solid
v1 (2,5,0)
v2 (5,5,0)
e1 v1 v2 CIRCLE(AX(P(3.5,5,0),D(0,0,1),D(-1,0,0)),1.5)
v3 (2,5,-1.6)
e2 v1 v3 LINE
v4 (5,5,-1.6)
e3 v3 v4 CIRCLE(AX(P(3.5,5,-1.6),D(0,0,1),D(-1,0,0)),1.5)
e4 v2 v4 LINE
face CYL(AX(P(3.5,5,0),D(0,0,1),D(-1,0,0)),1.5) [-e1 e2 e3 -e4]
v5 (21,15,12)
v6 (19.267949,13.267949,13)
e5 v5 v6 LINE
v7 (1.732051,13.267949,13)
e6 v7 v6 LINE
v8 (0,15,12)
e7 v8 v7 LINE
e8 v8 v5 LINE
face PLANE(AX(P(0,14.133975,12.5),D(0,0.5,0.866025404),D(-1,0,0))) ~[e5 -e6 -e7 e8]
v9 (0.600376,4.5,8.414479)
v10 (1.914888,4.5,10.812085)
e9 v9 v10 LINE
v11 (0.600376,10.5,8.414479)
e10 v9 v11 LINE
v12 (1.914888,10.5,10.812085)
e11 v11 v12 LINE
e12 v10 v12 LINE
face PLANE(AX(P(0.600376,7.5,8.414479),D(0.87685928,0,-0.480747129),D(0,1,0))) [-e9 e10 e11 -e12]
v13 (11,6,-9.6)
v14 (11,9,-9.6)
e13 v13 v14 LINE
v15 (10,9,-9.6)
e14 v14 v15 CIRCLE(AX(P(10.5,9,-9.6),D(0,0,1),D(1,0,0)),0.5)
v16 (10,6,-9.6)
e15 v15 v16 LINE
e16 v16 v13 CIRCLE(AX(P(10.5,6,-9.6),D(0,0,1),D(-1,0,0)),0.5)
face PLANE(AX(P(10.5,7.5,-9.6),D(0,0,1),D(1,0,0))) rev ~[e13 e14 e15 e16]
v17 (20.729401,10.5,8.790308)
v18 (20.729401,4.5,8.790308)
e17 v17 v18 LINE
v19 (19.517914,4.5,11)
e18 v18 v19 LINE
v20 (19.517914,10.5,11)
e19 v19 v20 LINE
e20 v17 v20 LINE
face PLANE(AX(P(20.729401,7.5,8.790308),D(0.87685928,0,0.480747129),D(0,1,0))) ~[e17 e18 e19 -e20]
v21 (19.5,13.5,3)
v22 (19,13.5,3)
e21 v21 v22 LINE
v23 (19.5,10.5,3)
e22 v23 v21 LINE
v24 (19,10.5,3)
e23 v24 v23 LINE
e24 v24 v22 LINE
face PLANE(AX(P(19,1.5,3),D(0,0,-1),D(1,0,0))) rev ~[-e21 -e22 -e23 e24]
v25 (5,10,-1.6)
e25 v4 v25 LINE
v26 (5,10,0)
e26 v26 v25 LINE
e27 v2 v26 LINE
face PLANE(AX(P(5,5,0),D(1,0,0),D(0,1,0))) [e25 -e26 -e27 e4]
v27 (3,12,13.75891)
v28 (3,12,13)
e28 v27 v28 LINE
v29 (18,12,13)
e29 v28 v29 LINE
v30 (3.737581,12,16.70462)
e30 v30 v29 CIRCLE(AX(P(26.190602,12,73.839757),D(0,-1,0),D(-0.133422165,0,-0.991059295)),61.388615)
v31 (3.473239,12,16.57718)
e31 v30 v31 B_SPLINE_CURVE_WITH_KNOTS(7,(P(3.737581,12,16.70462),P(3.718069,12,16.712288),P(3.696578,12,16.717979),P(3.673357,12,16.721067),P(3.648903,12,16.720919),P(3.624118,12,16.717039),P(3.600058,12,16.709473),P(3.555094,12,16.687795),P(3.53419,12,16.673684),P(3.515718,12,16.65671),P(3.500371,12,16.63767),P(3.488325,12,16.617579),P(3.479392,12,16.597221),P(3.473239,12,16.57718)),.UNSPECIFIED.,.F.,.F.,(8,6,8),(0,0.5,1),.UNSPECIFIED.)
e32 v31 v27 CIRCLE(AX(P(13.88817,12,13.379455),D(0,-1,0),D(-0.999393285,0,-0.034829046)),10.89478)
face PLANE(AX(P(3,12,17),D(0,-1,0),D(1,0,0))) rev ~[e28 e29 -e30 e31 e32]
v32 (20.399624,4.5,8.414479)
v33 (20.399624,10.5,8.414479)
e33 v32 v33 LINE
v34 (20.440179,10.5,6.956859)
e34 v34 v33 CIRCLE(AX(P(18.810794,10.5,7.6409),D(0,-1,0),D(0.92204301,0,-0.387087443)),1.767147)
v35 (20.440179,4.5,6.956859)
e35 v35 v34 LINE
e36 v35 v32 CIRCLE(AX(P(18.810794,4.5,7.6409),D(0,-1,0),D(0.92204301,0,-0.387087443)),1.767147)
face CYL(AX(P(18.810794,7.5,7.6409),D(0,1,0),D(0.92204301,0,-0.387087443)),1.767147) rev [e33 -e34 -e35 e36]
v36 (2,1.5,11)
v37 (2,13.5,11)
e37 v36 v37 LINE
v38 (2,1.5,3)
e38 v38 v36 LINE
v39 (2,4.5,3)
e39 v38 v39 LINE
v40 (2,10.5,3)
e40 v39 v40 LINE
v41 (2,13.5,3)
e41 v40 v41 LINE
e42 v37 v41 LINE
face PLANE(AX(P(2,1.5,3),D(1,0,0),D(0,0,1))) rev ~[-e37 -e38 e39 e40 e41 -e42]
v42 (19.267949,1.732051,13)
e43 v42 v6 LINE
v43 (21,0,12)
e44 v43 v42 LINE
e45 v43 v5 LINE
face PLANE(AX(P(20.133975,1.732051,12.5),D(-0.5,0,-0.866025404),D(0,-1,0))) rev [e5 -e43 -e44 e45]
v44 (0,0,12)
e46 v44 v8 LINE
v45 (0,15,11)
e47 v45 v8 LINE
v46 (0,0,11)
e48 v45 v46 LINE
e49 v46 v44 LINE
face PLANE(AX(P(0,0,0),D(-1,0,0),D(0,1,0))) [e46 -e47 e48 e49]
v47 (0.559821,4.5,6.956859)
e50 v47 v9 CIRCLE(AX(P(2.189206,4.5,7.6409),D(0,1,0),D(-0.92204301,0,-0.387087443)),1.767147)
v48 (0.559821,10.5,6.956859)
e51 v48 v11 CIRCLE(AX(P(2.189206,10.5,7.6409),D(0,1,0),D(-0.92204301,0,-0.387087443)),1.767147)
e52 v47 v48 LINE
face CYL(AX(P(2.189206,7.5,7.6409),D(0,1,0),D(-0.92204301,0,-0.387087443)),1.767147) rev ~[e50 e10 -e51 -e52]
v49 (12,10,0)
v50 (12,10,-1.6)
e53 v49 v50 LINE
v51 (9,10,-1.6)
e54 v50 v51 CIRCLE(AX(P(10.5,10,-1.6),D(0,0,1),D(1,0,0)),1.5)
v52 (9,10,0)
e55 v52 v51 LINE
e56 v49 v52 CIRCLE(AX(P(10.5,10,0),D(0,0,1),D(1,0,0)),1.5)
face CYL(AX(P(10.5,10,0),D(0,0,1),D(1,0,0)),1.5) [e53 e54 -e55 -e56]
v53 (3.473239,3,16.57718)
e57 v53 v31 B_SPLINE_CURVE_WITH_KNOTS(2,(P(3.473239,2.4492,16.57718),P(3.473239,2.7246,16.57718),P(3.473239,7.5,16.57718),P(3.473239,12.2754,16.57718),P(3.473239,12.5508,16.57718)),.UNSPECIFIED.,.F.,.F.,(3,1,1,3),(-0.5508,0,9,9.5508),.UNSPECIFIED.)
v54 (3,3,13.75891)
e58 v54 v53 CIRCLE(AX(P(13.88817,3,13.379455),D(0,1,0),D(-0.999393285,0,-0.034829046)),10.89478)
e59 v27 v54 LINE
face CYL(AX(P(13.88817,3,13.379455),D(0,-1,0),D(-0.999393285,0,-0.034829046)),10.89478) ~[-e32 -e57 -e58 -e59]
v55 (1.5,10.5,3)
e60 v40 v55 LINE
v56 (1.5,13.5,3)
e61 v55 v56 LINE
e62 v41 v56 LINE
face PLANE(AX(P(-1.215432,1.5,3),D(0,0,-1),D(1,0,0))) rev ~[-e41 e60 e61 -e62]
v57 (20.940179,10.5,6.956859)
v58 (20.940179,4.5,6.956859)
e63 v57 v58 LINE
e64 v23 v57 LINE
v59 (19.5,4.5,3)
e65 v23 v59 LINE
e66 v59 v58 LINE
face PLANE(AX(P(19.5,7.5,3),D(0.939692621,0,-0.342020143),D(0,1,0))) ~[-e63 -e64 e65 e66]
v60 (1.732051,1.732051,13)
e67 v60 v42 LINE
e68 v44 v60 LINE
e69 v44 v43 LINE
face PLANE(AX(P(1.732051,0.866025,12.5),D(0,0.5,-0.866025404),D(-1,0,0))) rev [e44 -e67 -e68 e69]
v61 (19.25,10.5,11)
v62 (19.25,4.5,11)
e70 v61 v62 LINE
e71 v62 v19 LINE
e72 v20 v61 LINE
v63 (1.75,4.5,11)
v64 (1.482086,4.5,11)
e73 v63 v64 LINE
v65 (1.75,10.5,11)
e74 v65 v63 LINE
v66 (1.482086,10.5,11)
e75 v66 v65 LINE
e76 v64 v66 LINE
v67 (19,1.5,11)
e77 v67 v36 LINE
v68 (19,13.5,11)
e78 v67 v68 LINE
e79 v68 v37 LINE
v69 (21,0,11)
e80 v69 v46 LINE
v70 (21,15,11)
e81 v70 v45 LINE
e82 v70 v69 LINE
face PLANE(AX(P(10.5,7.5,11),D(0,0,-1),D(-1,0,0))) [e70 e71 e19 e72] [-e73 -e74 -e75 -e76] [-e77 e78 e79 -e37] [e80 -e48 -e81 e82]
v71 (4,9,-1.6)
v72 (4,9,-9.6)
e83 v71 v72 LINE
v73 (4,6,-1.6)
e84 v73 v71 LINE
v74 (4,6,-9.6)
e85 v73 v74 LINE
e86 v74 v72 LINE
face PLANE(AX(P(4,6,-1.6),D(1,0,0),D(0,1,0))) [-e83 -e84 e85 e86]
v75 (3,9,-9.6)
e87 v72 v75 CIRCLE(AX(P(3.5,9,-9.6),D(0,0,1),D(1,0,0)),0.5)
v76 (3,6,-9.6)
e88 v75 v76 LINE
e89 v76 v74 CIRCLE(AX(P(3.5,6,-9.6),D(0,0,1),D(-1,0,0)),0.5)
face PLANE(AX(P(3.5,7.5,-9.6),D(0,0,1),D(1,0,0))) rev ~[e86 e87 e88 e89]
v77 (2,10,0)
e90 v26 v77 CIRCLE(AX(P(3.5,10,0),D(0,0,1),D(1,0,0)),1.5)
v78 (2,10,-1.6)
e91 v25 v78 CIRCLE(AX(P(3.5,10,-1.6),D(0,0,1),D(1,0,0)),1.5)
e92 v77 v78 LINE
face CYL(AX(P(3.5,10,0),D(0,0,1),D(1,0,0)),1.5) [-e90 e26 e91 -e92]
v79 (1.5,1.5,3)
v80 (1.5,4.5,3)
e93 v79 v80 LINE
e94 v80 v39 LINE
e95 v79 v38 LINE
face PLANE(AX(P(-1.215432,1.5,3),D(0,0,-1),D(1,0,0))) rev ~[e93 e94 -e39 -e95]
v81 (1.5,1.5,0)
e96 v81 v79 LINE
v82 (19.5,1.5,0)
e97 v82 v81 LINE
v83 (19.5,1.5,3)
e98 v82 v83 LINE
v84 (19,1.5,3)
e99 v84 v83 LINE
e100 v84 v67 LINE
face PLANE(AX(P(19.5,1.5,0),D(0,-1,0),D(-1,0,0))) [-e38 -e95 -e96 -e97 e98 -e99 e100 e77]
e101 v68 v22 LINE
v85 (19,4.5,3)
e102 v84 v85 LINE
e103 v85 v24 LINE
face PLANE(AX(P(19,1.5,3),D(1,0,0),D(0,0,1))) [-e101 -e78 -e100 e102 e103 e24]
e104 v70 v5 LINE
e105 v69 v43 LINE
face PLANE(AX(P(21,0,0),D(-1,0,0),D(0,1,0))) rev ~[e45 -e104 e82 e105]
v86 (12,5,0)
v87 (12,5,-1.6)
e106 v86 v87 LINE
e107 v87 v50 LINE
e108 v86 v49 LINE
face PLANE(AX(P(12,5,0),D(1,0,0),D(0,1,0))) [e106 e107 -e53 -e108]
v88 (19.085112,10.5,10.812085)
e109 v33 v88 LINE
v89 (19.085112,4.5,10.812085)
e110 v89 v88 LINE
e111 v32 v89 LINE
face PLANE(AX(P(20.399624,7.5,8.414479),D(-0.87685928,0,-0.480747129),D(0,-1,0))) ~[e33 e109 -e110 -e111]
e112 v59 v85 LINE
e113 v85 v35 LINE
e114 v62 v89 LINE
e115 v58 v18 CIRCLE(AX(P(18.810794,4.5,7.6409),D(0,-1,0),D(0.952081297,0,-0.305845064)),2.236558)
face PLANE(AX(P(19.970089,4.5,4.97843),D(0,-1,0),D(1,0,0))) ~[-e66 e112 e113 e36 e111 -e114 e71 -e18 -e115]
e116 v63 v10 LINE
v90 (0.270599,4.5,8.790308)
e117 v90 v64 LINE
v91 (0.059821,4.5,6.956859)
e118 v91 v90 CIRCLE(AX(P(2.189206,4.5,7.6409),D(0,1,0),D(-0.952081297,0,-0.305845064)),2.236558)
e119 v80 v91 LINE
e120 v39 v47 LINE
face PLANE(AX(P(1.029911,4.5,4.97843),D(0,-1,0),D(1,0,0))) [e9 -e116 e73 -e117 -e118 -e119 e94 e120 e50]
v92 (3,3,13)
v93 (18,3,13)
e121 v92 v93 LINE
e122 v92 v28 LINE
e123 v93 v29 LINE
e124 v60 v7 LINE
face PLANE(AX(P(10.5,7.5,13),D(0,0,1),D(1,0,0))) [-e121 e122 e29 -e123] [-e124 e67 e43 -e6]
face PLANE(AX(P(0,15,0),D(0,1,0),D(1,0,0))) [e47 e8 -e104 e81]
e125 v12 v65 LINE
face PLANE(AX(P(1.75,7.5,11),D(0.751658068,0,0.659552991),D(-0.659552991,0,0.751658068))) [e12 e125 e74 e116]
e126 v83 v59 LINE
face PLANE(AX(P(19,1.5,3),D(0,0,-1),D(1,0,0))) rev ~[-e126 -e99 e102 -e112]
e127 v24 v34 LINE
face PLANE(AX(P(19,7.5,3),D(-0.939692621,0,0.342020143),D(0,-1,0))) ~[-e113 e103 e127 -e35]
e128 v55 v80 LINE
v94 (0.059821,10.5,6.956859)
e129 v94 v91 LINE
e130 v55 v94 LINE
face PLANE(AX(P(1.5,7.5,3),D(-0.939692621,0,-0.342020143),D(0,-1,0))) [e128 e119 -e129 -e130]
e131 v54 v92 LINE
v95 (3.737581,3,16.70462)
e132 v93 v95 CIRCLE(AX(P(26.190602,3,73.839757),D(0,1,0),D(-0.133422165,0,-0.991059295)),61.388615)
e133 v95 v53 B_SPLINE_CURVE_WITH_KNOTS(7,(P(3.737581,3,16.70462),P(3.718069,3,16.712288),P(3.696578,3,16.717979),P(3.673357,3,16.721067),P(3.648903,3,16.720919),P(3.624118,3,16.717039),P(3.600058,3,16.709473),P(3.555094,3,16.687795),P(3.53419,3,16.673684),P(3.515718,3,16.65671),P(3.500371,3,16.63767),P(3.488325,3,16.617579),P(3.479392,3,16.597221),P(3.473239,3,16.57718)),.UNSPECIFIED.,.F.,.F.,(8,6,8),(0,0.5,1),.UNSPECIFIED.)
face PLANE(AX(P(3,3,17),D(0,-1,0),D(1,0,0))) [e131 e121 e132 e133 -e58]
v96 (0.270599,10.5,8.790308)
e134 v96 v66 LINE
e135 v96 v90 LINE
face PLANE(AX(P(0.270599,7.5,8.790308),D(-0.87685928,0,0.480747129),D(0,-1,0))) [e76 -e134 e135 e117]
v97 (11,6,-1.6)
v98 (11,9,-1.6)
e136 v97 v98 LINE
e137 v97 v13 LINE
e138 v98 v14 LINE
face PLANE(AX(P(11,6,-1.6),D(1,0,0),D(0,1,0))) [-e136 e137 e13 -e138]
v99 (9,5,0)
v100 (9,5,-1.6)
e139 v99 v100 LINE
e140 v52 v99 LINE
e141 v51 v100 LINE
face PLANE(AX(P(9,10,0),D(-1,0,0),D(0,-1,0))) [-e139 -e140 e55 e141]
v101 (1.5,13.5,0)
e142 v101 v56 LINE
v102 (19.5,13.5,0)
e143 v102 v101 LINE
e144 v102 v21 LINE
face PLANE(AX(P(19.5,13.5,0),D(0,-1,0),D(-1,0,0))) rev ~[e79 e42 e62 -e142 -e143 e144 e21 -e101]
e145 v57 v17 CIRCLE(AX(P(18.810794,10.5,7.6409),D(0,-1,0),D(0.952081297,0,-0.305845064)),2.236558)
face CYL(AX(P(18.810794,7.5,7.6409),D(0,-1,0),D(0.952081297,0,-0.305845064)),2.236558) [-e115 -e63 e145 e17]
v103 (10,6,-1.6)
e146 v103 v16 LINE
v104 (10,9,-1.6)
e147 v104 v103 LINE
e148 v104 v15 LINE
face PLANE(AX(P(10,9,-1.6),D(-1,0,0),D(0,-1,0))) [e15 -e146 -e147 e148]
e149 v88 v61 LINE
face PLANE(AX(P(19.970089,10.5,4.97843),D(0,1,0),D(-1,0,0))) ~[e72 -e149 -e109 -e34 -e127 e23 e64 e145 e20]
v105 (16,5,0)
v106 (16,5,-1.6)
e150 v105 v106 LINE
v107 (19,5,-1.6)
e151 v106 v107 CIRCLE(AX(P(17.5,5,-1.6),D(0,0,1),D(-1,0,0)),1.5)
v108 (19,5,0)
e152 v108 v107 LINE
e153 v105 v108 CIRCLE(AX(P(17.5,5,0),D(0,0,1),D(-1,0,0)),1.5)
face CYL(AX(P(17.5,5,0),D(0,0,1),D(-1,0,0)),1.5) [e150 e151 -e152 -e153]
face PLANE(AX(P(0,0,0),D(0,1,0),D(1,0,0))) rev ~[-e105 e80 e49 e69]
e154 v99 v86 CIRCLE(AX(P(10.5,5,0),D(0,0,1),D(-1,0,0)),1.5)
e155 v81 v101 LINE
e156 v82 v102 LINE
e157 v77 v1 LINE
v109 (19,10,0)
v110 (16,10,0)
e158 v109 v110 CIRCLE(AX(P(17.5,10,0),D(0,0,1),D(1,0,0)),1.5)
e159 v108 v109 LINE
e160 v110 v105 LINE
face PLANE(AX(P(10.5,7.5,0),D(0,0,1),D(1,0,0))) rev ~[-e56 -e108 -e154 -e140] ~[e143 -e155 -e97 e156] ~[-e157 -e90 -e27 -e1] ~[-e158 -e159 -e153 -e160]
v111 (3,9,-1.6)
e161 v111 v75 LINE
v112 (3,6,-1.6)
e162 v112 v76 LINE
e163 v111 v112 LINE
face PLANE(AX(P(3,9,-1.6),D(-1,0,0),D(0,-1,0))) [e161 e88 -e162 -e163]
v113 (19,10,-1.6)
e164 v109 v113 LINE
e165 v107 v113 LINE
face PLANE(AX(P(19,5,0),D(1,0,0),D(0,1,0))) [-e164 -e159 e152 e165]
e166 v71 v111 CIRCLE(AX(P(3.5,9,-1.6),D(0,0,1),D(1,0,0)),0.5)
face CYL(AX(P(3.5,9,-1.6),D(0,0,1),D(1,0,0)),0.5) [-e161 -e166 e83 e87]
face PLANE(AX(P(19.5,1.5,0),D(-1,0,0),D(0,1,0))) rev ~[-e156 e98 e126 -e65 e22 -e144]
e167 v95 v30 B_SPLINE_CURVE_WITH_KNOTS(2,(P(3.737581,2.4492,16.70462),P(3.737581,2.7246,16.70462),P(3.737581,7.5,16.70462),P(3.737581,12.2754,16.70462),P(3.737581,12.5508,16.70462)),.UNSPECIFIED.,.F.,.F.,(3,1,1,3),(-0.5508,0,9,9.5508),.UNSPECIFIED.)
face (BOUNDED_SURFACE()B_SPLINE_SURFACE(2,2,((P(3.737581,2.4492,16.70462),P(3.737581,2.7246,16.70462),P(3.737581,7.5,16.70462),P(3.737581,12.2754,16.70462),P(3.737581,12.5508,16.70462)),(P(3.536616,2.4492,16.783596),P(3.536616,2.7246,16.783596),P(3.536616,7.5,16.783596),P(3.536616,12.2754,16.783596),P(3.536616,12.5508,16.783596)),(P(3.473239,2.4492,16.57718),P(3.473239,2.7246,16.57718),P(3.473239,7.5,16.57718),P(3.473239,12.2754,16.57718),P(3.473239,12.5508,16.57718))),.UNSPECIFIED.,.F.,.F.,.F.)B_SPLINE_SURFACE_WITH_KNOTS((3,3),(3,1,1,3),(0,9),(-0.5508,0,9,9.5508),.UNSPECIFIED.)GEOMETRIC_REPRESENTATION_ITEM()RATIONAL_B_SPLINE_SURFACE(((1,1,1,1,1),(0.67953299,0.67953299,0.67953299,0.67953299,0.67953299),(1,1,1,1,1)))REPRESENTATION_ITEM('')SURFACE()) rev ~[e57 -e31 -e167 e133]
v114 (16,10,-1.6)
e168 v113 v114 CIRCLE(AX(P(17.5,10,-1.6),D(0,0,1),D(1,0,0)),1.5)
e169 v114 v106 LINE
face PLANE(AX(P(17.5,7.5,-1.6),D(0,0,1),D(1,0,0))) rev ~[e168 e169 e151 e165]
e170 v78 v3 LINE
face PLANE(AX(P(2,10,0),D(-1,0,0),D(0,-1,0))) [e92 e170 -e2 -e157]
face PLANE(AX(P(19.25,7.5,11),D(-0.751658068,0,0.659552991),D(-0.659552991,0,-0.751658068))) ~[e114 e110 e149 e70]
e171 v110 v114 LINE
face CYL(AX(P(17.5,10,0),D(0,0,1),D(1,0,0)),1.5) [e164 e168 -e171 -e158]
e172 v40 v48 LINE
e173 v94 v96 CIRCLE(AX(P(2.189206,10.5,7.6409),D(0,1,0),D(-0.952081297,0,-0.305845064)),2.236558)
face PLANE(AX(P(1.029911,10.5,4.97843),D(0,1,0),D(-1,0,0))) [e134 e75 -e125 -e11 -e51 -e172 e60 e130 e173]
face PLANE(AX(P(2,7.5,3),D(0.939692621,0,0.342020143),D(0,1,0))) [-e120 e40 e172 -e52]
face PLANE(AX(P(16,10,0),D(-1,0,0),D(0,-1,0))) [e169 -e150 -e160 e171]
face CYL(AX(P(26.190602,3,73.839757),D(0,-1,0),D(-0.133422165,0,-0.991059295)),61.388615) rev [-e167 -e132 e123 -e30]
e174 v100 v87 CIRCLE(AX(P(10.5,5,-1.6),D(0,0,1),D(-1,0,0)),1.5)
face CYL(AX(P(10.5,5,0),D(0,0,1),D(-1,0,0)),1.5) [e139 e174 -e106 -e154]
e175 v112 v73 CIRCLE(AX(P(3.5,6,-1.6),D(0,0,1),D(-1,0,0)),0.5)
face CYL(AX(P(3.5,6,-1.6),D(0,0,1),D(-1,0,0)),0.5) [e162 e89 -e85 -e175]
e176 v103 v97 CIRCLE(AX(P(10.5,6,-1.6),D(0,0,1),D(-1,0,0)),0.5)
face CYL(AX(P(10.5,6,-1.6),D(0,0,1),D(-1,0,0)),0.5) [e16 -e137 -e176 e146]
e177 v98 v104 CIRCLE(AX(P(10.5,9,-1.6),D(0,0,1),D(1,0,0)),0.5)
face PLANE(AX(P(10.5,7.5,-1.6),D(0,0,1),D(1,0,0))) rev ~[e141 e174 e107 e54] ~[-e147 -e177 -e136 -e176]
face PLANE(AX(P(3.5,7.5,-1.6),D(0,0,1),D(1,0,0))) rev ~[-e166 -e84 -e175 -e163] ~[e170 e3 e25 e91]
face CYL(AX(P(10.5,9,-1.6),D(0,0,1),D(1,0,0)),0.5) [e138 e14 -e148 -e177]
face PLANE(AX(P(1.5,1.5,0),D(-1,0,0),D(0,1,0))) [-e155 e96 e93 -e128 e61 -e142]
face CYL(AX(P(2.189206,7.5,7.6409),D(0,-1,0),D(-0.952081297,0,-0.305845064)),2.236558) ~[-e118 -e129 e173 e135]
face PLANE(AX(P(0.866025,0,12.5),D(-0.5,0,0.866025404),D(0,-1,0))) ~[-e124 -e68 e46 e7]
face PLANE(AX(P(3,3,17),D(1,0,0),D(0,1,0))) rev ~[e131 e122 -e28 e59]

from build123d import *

# Parameters (mm, degrees)
SKETCH_1_W             = 21
SKETCH_1_H             = 15
EXTRUDE_1_DEPTH        = 17
SKETCH_3_OUTSIDE_W     = 29.18
SKETCH_3_OUTSIDE_H     = 23.18
SKETCH_3_OUTSIDE_W_2   = 18
SKETCH_3_OUTSIDE_H_2   = 12
CUT_EXTRUDE_1_DEPTH    = 11
SKETCH_4_OUTSIDE_W     = 29.18
SKETCH_4_OUTSIDE_H     = 23.18
SKETCH_4_OUTSIDE_W_2   = 15
SKETCH_4_OUTSIDE_H_2   = 9
CUT_EXTRUDE_2_DEPTH    = 4
CUT_EXTRUDE_3_REACH    = 14
CUT_EXTRUDE_4_REACH    = 14
FILLET_2_R             = 0.2
CHAMFER_1_SIZE         = 1
CHAMFER_1_SIZE2        = 1.732050808
CHAMFER_1_PART_2_SIZE  = 1
CHAMFER_1_PART_2_SIZE2 = 1.732050808
CHAMFER_1_PART_3_SIZE  = 1
CHAMFER_1_PART_3_SIZE2 = 1.732050808
CHAMFER_1_PART_4_SIZE  = 1
CHAMFER_1_PART_4_SIZE2 = 1.732050808
CUT_EXTRUDE_5_REACH    = 15.5
SKETCH_7_W             = 3.215432019
SKETCH_7_H             = 8
SKETCH_8_W             = 0.5
SKETCH_8_H             = 6
EXTRUDE_2_DEPTH        = 1.6
EXTRUDE_3_DEPTH        = 8
PATTERN_LINEAR_2_COUNT = 3
PATTERN_LINEAR_2_PITCH = 7
PATTERN_LINEAR_3_COUNT = 2
PATTERN_LINEAR_3_PITCH = 7


with BuildPart() as part:
    # 草图1 → 凸台-拉伸1 (new body)
    with BuildSketch(Plane.XY):
        with Locations((10.5, 7.5)):
            Rectangle(SKETCH_1_W, SKETCH_1_H)
    extrude(amount=EXTRUDE_1_DEPTH)

    # 草图3 outside → 切除-拉伸1 (cut)
    with BuildSketch(Plane(origin=(0, 0, 0), x_dir=(-1, 0, 0), z_dir=(0, 0, -1))):
        with Locations((-10.5, 7.5)):
            Rectangle(SKETCH_3_OUTSIDE_W, SKETCH_3_OUTSIDE_H)
        with Locations((-10.5, 7.5)):
            Rectangle(SKETCH_3_OUTSIDE_W_2, SKETCH_3_OUTSIDE_H_2, mode=Mode.SUBTRACT)
    extrude(amount=-CUT_EXTRUDE_1_DEPTH, mode=Mode.SUBTRACT)

    # 草图4 outside → 切除-拉伸2 (cut)
    with BuildSketch(Plane.XY.offset(17)):
        with Locations((10.5, 7.5)):
            Rectangle(SKETCH_4_OUTSIDE_W, SKETCH_4_OUTSIDE_H)
        with Locations((10.5, 7.5)):
            Rectangle(SKETCH_4_OUTSIDE_W_2, SKETCH_4_OUTSIDE_H_2, mode=Mode.SUBTRACT)
    extrude(amount=-CUT_EXTRUDE_2_DEPTH, mode=Mode.SUBTRACT)

    # 草图5 → 切除-拉伸3 (cut, up to next)
    with BuildSketch(Plane.XZ.offset(-3), mode=Mode.PRIVATE) as cut_extrude_3_sk1:
        with BuildLine():
            Line((3, 17), (3.786081295, 18.926671419))
            Line((3.786081295, 18.926671419), (19.848042348, 18.643435221))
            Line((19.848042348, 18.643435221), (18, 13))
            ThreePointArc((18, 13), (10.37304874, 14.523932773), (3, 17))
        make_face()
    cut_extrude_3_tool1 = extrude(cut_extrude_3_sk1.sketch, amount=-CUT_EXTRUDE_3_REACH, mode=Mode.PRIVATE) & part.part
    add(cut_extrude_3_tool1.solids().sort_by_distance((12.266887, 3, 16.568518))[0], mode=Mode.SUBTRACT)

    # 草图6 → 切除-拉伸4 (cut, up to next)
    with BuildSketch(Plane.XZ.offset(-3), mode=Mode.PRIVATE) as cut_extrude_4_sk1:
        with BuildLine():
            Line((3.538726555, 16.783166359), (1.834472807, 18.259535343))
            Line((1.834472807, 18.259535343), (1.834472807, 13.545763946))
            Line((1.834472807, 13.545763946), (3, 13))
            ThreePointArc((3, 13), (3.102200266, 14.915387354), (3.538726555, 16.783166359))
        make_face()
    cut_extrude_4_tool1 = extrude(cut_extrude_4_sk1.sketch, amount=-CUT_EXTRUDE_4_REACH, mode=Mode.PRIVATE) & part.part
    add(cut_extrude_4_tool1.solids().sort_by_distance((2.498394, 3, 15.595743))[0], mode=Mode.SUBTRACT)

    # 圆角2
    fillet_2_edges = [part.edges().sort_by_distance(p)[0] for p in [
        (3.538726555, 7.5, 16.783166359),
    ]]
    fillet(fillet_2_edges, radius=FILLET_2_R)

    # 倒角1
    chamfer_1_edges = [part.edges().sort_by_distance(p)[0] for p in [
        (10.5, 15, 13),
    ]]
    chamfer_1_side = [part.faces().sort_by_distance(p)[0] for p in [
        (10.5, 15, 12),
    ]]
    chamfer(chamfer_1_edges, length=CHAMFER_1_SIZE, length2=CHAMFER_1_SIZE2, reference=chamfer_1_side[0])

    # 倒角1 part 2
    chamfer_1_part_2_edges = [part.edges().sort_by_distance(p)[0] for p in [
        (0, 7.5, 13),
    ]]
    chamfer_1_part_2_side = [part.faces().sort_by_distance(p)[0] for p in [
        (0, 7.5, 12),
    ]]
    chamfer(chamfer_1_part_2_edges, length=CHAMFER_1_PART_2_SIZE, length2=CHAMFER_1_PART_2_SIZE2, reference=chamfer_1_part_2_side[0])

    # 倒角1 part 3
    chamfer_1_part_3_edges = [part.edges().sort_by_distance(p)[0] for p in [
        (10.5, 0, 13),
    ]]
    chamfer_1_part_3_side = [part.faces().sort_by_distance(p)[0] for p in [
        (10.5, 0, 12),
    ]]
    chamfer(chamfer_1_part_3_edges, length=CHAMFER_1_PART_3_SIZE, length2=CHAMFER_1_PART_3_SIZE2, reference=chamfer_1_part_3_side[0])

    # 倒角1 part 4
    chamfer_1_part_4_edges = [part.edges().sort_by_distance(p)[0] for p in [
        (21, 7.5, 13),
    ]]
    chamfer_1_part_4_side = [part.faces().sort_by_distance(p)[0] for p in [
        (21, 7.5, 12),
    ]]
    chamfer(chamfer_1_part_4_edges, length=CHAMFER_1_PART_4_SIZE, length2=CHAMFER_1_PART_4_SIZE2, reference=chamfer_1_part_4_side[0])

    # 草图7 → 切除-拉伸5 (cut, up to next)
    with BuildSketch(Plane.XZ.offset(-1.5), mode=Mode.PRIVATE) as cut_extrude_5_sk1:
        with Locations((0.39228399, 7)):
            Rectangle(SKETCH_7_W, SKETCH_7_H)
    cut_extrude_5_tool1 = extrude(cut_extrude_5_sk1.sketch, amount=-CUT_EXTRUDE_5_REACH, mode=Mode.PRIVATE) & part.part
    add(cut_extrude_5_tool1.solids().sort_by_distance((0.392284, 1.5, 7))[0], mode=Mode.SUBTRACT)
    # 草图7 → 切除-拉伸5 (cut, up to next)
    with BuildSketch(Plane.XZ.offset(-1.5), mode=Mode.PRIVATE) as cut_extrude_5_sk2:
        with Locations((20.60771601, 7)):
            Rectangle(SKETCH_7_W, SKETCH_7_H)
    cut_extrude_5_tool2 = extrude(cut_extrude_5_sk2.sketch, amount=-CUT_EXTRUDE_5_REACH, mode=Mode.PRIVATE) & part.part
    add(cut_extrude_5_tool2.solids().sort_by_distance((20.607716, 1.5, 7))[0], mode=Mode.SUBTRACT)

    # 扫描1: sweep along a path in 草图9
    with BuildLine(Plane(origin=(0, 7.5, 0), x_dir=(-1, 0, 0), z_dir=(0, -1, 0))) as sweep_1_path:
        Line((-1.75, -3), (-0.309821019, -6.95685923))
        ThreePointArc((-0.309821019, -6.95685923), (-0.195012991, -7.793192673), (-0.4354877, -8.602393776))
        Line((-0.4354877, -8.602393776), (-1.75, -11))
    # 草图8 → 扫描1 (sweep)
    with BuildSketch(Plane.XY.offset(3)):
        with Locations((1.75, 7.5)):
            Rectangle(SKETCH_8_W, SKETCH_8_H)
    sweep_1 = sweep(path=sweep_1_path.line)

    # 镜向1: 扫描1 across plane
    add(sweep_1.mirror(Plane(origin=(10.5, 0, 0), x_dir=(0, 0, 1), z_dir=(1, 0, 0))))

    # 草图10 → 凸台-拉伸2 (add)
    with BuildSketch(Plane(origin=(0, 0, 0), x_dir=(-1, 0, 0), z_dir=(0, 0, -1))):
        with BuildLine():
            Line((-5, 5), (-5, 10))
            ThreePointArc((-5, 10), (-3.5, 11.5), (-2, 10))
            Line((-2, 10), (-2, 5))
            ThreePointArc((-2, 5), (-3.5, 3.5), (-5, 5))
        make_face()
    extrude_2 = extrude(amount=EXTRUDE_2_DEPTH)

    # 草图11 → 凸台-拉伸3 (add)
    with BuildSketch(Plane(origin=(0, 0, -1.6), x_dir=(-1, 0, 0), z_dir=(0, 0, -1))):
        with BuildLine():
            Line((-4, 6), (-4, 9))
            ThreePointArc((-4, 9), (-3.5, 9.5), (-3, 9))
            Line((-3, 9), (-3, 6))
            ThreePointArc((-3, 6), (-3.5, 5.5), (-4, 6))
        make_face()
    extrude_3 = extrude(amount=EXTRUDE_3_DEPTH)

    # 阵列(线性)2: 凸台-拉伸2 ×3
    with Locations(*[(i * PATTERN_LINEAR_2_PITCH, 0, 0) for i in range(1, PATTERN_LINEAR_2_COUNT)]):
        add(extrude_2)

    # 阵列(线性)3: 凸台-拉伸3 ×2
    with Locations(*[(i * PATTERN_LINEAR_3_PITCH, 0, 0) for i in range(1, PATTERN_LINEAR_3_COUNT)]):
        add(extrude_3)


solid = part.part
